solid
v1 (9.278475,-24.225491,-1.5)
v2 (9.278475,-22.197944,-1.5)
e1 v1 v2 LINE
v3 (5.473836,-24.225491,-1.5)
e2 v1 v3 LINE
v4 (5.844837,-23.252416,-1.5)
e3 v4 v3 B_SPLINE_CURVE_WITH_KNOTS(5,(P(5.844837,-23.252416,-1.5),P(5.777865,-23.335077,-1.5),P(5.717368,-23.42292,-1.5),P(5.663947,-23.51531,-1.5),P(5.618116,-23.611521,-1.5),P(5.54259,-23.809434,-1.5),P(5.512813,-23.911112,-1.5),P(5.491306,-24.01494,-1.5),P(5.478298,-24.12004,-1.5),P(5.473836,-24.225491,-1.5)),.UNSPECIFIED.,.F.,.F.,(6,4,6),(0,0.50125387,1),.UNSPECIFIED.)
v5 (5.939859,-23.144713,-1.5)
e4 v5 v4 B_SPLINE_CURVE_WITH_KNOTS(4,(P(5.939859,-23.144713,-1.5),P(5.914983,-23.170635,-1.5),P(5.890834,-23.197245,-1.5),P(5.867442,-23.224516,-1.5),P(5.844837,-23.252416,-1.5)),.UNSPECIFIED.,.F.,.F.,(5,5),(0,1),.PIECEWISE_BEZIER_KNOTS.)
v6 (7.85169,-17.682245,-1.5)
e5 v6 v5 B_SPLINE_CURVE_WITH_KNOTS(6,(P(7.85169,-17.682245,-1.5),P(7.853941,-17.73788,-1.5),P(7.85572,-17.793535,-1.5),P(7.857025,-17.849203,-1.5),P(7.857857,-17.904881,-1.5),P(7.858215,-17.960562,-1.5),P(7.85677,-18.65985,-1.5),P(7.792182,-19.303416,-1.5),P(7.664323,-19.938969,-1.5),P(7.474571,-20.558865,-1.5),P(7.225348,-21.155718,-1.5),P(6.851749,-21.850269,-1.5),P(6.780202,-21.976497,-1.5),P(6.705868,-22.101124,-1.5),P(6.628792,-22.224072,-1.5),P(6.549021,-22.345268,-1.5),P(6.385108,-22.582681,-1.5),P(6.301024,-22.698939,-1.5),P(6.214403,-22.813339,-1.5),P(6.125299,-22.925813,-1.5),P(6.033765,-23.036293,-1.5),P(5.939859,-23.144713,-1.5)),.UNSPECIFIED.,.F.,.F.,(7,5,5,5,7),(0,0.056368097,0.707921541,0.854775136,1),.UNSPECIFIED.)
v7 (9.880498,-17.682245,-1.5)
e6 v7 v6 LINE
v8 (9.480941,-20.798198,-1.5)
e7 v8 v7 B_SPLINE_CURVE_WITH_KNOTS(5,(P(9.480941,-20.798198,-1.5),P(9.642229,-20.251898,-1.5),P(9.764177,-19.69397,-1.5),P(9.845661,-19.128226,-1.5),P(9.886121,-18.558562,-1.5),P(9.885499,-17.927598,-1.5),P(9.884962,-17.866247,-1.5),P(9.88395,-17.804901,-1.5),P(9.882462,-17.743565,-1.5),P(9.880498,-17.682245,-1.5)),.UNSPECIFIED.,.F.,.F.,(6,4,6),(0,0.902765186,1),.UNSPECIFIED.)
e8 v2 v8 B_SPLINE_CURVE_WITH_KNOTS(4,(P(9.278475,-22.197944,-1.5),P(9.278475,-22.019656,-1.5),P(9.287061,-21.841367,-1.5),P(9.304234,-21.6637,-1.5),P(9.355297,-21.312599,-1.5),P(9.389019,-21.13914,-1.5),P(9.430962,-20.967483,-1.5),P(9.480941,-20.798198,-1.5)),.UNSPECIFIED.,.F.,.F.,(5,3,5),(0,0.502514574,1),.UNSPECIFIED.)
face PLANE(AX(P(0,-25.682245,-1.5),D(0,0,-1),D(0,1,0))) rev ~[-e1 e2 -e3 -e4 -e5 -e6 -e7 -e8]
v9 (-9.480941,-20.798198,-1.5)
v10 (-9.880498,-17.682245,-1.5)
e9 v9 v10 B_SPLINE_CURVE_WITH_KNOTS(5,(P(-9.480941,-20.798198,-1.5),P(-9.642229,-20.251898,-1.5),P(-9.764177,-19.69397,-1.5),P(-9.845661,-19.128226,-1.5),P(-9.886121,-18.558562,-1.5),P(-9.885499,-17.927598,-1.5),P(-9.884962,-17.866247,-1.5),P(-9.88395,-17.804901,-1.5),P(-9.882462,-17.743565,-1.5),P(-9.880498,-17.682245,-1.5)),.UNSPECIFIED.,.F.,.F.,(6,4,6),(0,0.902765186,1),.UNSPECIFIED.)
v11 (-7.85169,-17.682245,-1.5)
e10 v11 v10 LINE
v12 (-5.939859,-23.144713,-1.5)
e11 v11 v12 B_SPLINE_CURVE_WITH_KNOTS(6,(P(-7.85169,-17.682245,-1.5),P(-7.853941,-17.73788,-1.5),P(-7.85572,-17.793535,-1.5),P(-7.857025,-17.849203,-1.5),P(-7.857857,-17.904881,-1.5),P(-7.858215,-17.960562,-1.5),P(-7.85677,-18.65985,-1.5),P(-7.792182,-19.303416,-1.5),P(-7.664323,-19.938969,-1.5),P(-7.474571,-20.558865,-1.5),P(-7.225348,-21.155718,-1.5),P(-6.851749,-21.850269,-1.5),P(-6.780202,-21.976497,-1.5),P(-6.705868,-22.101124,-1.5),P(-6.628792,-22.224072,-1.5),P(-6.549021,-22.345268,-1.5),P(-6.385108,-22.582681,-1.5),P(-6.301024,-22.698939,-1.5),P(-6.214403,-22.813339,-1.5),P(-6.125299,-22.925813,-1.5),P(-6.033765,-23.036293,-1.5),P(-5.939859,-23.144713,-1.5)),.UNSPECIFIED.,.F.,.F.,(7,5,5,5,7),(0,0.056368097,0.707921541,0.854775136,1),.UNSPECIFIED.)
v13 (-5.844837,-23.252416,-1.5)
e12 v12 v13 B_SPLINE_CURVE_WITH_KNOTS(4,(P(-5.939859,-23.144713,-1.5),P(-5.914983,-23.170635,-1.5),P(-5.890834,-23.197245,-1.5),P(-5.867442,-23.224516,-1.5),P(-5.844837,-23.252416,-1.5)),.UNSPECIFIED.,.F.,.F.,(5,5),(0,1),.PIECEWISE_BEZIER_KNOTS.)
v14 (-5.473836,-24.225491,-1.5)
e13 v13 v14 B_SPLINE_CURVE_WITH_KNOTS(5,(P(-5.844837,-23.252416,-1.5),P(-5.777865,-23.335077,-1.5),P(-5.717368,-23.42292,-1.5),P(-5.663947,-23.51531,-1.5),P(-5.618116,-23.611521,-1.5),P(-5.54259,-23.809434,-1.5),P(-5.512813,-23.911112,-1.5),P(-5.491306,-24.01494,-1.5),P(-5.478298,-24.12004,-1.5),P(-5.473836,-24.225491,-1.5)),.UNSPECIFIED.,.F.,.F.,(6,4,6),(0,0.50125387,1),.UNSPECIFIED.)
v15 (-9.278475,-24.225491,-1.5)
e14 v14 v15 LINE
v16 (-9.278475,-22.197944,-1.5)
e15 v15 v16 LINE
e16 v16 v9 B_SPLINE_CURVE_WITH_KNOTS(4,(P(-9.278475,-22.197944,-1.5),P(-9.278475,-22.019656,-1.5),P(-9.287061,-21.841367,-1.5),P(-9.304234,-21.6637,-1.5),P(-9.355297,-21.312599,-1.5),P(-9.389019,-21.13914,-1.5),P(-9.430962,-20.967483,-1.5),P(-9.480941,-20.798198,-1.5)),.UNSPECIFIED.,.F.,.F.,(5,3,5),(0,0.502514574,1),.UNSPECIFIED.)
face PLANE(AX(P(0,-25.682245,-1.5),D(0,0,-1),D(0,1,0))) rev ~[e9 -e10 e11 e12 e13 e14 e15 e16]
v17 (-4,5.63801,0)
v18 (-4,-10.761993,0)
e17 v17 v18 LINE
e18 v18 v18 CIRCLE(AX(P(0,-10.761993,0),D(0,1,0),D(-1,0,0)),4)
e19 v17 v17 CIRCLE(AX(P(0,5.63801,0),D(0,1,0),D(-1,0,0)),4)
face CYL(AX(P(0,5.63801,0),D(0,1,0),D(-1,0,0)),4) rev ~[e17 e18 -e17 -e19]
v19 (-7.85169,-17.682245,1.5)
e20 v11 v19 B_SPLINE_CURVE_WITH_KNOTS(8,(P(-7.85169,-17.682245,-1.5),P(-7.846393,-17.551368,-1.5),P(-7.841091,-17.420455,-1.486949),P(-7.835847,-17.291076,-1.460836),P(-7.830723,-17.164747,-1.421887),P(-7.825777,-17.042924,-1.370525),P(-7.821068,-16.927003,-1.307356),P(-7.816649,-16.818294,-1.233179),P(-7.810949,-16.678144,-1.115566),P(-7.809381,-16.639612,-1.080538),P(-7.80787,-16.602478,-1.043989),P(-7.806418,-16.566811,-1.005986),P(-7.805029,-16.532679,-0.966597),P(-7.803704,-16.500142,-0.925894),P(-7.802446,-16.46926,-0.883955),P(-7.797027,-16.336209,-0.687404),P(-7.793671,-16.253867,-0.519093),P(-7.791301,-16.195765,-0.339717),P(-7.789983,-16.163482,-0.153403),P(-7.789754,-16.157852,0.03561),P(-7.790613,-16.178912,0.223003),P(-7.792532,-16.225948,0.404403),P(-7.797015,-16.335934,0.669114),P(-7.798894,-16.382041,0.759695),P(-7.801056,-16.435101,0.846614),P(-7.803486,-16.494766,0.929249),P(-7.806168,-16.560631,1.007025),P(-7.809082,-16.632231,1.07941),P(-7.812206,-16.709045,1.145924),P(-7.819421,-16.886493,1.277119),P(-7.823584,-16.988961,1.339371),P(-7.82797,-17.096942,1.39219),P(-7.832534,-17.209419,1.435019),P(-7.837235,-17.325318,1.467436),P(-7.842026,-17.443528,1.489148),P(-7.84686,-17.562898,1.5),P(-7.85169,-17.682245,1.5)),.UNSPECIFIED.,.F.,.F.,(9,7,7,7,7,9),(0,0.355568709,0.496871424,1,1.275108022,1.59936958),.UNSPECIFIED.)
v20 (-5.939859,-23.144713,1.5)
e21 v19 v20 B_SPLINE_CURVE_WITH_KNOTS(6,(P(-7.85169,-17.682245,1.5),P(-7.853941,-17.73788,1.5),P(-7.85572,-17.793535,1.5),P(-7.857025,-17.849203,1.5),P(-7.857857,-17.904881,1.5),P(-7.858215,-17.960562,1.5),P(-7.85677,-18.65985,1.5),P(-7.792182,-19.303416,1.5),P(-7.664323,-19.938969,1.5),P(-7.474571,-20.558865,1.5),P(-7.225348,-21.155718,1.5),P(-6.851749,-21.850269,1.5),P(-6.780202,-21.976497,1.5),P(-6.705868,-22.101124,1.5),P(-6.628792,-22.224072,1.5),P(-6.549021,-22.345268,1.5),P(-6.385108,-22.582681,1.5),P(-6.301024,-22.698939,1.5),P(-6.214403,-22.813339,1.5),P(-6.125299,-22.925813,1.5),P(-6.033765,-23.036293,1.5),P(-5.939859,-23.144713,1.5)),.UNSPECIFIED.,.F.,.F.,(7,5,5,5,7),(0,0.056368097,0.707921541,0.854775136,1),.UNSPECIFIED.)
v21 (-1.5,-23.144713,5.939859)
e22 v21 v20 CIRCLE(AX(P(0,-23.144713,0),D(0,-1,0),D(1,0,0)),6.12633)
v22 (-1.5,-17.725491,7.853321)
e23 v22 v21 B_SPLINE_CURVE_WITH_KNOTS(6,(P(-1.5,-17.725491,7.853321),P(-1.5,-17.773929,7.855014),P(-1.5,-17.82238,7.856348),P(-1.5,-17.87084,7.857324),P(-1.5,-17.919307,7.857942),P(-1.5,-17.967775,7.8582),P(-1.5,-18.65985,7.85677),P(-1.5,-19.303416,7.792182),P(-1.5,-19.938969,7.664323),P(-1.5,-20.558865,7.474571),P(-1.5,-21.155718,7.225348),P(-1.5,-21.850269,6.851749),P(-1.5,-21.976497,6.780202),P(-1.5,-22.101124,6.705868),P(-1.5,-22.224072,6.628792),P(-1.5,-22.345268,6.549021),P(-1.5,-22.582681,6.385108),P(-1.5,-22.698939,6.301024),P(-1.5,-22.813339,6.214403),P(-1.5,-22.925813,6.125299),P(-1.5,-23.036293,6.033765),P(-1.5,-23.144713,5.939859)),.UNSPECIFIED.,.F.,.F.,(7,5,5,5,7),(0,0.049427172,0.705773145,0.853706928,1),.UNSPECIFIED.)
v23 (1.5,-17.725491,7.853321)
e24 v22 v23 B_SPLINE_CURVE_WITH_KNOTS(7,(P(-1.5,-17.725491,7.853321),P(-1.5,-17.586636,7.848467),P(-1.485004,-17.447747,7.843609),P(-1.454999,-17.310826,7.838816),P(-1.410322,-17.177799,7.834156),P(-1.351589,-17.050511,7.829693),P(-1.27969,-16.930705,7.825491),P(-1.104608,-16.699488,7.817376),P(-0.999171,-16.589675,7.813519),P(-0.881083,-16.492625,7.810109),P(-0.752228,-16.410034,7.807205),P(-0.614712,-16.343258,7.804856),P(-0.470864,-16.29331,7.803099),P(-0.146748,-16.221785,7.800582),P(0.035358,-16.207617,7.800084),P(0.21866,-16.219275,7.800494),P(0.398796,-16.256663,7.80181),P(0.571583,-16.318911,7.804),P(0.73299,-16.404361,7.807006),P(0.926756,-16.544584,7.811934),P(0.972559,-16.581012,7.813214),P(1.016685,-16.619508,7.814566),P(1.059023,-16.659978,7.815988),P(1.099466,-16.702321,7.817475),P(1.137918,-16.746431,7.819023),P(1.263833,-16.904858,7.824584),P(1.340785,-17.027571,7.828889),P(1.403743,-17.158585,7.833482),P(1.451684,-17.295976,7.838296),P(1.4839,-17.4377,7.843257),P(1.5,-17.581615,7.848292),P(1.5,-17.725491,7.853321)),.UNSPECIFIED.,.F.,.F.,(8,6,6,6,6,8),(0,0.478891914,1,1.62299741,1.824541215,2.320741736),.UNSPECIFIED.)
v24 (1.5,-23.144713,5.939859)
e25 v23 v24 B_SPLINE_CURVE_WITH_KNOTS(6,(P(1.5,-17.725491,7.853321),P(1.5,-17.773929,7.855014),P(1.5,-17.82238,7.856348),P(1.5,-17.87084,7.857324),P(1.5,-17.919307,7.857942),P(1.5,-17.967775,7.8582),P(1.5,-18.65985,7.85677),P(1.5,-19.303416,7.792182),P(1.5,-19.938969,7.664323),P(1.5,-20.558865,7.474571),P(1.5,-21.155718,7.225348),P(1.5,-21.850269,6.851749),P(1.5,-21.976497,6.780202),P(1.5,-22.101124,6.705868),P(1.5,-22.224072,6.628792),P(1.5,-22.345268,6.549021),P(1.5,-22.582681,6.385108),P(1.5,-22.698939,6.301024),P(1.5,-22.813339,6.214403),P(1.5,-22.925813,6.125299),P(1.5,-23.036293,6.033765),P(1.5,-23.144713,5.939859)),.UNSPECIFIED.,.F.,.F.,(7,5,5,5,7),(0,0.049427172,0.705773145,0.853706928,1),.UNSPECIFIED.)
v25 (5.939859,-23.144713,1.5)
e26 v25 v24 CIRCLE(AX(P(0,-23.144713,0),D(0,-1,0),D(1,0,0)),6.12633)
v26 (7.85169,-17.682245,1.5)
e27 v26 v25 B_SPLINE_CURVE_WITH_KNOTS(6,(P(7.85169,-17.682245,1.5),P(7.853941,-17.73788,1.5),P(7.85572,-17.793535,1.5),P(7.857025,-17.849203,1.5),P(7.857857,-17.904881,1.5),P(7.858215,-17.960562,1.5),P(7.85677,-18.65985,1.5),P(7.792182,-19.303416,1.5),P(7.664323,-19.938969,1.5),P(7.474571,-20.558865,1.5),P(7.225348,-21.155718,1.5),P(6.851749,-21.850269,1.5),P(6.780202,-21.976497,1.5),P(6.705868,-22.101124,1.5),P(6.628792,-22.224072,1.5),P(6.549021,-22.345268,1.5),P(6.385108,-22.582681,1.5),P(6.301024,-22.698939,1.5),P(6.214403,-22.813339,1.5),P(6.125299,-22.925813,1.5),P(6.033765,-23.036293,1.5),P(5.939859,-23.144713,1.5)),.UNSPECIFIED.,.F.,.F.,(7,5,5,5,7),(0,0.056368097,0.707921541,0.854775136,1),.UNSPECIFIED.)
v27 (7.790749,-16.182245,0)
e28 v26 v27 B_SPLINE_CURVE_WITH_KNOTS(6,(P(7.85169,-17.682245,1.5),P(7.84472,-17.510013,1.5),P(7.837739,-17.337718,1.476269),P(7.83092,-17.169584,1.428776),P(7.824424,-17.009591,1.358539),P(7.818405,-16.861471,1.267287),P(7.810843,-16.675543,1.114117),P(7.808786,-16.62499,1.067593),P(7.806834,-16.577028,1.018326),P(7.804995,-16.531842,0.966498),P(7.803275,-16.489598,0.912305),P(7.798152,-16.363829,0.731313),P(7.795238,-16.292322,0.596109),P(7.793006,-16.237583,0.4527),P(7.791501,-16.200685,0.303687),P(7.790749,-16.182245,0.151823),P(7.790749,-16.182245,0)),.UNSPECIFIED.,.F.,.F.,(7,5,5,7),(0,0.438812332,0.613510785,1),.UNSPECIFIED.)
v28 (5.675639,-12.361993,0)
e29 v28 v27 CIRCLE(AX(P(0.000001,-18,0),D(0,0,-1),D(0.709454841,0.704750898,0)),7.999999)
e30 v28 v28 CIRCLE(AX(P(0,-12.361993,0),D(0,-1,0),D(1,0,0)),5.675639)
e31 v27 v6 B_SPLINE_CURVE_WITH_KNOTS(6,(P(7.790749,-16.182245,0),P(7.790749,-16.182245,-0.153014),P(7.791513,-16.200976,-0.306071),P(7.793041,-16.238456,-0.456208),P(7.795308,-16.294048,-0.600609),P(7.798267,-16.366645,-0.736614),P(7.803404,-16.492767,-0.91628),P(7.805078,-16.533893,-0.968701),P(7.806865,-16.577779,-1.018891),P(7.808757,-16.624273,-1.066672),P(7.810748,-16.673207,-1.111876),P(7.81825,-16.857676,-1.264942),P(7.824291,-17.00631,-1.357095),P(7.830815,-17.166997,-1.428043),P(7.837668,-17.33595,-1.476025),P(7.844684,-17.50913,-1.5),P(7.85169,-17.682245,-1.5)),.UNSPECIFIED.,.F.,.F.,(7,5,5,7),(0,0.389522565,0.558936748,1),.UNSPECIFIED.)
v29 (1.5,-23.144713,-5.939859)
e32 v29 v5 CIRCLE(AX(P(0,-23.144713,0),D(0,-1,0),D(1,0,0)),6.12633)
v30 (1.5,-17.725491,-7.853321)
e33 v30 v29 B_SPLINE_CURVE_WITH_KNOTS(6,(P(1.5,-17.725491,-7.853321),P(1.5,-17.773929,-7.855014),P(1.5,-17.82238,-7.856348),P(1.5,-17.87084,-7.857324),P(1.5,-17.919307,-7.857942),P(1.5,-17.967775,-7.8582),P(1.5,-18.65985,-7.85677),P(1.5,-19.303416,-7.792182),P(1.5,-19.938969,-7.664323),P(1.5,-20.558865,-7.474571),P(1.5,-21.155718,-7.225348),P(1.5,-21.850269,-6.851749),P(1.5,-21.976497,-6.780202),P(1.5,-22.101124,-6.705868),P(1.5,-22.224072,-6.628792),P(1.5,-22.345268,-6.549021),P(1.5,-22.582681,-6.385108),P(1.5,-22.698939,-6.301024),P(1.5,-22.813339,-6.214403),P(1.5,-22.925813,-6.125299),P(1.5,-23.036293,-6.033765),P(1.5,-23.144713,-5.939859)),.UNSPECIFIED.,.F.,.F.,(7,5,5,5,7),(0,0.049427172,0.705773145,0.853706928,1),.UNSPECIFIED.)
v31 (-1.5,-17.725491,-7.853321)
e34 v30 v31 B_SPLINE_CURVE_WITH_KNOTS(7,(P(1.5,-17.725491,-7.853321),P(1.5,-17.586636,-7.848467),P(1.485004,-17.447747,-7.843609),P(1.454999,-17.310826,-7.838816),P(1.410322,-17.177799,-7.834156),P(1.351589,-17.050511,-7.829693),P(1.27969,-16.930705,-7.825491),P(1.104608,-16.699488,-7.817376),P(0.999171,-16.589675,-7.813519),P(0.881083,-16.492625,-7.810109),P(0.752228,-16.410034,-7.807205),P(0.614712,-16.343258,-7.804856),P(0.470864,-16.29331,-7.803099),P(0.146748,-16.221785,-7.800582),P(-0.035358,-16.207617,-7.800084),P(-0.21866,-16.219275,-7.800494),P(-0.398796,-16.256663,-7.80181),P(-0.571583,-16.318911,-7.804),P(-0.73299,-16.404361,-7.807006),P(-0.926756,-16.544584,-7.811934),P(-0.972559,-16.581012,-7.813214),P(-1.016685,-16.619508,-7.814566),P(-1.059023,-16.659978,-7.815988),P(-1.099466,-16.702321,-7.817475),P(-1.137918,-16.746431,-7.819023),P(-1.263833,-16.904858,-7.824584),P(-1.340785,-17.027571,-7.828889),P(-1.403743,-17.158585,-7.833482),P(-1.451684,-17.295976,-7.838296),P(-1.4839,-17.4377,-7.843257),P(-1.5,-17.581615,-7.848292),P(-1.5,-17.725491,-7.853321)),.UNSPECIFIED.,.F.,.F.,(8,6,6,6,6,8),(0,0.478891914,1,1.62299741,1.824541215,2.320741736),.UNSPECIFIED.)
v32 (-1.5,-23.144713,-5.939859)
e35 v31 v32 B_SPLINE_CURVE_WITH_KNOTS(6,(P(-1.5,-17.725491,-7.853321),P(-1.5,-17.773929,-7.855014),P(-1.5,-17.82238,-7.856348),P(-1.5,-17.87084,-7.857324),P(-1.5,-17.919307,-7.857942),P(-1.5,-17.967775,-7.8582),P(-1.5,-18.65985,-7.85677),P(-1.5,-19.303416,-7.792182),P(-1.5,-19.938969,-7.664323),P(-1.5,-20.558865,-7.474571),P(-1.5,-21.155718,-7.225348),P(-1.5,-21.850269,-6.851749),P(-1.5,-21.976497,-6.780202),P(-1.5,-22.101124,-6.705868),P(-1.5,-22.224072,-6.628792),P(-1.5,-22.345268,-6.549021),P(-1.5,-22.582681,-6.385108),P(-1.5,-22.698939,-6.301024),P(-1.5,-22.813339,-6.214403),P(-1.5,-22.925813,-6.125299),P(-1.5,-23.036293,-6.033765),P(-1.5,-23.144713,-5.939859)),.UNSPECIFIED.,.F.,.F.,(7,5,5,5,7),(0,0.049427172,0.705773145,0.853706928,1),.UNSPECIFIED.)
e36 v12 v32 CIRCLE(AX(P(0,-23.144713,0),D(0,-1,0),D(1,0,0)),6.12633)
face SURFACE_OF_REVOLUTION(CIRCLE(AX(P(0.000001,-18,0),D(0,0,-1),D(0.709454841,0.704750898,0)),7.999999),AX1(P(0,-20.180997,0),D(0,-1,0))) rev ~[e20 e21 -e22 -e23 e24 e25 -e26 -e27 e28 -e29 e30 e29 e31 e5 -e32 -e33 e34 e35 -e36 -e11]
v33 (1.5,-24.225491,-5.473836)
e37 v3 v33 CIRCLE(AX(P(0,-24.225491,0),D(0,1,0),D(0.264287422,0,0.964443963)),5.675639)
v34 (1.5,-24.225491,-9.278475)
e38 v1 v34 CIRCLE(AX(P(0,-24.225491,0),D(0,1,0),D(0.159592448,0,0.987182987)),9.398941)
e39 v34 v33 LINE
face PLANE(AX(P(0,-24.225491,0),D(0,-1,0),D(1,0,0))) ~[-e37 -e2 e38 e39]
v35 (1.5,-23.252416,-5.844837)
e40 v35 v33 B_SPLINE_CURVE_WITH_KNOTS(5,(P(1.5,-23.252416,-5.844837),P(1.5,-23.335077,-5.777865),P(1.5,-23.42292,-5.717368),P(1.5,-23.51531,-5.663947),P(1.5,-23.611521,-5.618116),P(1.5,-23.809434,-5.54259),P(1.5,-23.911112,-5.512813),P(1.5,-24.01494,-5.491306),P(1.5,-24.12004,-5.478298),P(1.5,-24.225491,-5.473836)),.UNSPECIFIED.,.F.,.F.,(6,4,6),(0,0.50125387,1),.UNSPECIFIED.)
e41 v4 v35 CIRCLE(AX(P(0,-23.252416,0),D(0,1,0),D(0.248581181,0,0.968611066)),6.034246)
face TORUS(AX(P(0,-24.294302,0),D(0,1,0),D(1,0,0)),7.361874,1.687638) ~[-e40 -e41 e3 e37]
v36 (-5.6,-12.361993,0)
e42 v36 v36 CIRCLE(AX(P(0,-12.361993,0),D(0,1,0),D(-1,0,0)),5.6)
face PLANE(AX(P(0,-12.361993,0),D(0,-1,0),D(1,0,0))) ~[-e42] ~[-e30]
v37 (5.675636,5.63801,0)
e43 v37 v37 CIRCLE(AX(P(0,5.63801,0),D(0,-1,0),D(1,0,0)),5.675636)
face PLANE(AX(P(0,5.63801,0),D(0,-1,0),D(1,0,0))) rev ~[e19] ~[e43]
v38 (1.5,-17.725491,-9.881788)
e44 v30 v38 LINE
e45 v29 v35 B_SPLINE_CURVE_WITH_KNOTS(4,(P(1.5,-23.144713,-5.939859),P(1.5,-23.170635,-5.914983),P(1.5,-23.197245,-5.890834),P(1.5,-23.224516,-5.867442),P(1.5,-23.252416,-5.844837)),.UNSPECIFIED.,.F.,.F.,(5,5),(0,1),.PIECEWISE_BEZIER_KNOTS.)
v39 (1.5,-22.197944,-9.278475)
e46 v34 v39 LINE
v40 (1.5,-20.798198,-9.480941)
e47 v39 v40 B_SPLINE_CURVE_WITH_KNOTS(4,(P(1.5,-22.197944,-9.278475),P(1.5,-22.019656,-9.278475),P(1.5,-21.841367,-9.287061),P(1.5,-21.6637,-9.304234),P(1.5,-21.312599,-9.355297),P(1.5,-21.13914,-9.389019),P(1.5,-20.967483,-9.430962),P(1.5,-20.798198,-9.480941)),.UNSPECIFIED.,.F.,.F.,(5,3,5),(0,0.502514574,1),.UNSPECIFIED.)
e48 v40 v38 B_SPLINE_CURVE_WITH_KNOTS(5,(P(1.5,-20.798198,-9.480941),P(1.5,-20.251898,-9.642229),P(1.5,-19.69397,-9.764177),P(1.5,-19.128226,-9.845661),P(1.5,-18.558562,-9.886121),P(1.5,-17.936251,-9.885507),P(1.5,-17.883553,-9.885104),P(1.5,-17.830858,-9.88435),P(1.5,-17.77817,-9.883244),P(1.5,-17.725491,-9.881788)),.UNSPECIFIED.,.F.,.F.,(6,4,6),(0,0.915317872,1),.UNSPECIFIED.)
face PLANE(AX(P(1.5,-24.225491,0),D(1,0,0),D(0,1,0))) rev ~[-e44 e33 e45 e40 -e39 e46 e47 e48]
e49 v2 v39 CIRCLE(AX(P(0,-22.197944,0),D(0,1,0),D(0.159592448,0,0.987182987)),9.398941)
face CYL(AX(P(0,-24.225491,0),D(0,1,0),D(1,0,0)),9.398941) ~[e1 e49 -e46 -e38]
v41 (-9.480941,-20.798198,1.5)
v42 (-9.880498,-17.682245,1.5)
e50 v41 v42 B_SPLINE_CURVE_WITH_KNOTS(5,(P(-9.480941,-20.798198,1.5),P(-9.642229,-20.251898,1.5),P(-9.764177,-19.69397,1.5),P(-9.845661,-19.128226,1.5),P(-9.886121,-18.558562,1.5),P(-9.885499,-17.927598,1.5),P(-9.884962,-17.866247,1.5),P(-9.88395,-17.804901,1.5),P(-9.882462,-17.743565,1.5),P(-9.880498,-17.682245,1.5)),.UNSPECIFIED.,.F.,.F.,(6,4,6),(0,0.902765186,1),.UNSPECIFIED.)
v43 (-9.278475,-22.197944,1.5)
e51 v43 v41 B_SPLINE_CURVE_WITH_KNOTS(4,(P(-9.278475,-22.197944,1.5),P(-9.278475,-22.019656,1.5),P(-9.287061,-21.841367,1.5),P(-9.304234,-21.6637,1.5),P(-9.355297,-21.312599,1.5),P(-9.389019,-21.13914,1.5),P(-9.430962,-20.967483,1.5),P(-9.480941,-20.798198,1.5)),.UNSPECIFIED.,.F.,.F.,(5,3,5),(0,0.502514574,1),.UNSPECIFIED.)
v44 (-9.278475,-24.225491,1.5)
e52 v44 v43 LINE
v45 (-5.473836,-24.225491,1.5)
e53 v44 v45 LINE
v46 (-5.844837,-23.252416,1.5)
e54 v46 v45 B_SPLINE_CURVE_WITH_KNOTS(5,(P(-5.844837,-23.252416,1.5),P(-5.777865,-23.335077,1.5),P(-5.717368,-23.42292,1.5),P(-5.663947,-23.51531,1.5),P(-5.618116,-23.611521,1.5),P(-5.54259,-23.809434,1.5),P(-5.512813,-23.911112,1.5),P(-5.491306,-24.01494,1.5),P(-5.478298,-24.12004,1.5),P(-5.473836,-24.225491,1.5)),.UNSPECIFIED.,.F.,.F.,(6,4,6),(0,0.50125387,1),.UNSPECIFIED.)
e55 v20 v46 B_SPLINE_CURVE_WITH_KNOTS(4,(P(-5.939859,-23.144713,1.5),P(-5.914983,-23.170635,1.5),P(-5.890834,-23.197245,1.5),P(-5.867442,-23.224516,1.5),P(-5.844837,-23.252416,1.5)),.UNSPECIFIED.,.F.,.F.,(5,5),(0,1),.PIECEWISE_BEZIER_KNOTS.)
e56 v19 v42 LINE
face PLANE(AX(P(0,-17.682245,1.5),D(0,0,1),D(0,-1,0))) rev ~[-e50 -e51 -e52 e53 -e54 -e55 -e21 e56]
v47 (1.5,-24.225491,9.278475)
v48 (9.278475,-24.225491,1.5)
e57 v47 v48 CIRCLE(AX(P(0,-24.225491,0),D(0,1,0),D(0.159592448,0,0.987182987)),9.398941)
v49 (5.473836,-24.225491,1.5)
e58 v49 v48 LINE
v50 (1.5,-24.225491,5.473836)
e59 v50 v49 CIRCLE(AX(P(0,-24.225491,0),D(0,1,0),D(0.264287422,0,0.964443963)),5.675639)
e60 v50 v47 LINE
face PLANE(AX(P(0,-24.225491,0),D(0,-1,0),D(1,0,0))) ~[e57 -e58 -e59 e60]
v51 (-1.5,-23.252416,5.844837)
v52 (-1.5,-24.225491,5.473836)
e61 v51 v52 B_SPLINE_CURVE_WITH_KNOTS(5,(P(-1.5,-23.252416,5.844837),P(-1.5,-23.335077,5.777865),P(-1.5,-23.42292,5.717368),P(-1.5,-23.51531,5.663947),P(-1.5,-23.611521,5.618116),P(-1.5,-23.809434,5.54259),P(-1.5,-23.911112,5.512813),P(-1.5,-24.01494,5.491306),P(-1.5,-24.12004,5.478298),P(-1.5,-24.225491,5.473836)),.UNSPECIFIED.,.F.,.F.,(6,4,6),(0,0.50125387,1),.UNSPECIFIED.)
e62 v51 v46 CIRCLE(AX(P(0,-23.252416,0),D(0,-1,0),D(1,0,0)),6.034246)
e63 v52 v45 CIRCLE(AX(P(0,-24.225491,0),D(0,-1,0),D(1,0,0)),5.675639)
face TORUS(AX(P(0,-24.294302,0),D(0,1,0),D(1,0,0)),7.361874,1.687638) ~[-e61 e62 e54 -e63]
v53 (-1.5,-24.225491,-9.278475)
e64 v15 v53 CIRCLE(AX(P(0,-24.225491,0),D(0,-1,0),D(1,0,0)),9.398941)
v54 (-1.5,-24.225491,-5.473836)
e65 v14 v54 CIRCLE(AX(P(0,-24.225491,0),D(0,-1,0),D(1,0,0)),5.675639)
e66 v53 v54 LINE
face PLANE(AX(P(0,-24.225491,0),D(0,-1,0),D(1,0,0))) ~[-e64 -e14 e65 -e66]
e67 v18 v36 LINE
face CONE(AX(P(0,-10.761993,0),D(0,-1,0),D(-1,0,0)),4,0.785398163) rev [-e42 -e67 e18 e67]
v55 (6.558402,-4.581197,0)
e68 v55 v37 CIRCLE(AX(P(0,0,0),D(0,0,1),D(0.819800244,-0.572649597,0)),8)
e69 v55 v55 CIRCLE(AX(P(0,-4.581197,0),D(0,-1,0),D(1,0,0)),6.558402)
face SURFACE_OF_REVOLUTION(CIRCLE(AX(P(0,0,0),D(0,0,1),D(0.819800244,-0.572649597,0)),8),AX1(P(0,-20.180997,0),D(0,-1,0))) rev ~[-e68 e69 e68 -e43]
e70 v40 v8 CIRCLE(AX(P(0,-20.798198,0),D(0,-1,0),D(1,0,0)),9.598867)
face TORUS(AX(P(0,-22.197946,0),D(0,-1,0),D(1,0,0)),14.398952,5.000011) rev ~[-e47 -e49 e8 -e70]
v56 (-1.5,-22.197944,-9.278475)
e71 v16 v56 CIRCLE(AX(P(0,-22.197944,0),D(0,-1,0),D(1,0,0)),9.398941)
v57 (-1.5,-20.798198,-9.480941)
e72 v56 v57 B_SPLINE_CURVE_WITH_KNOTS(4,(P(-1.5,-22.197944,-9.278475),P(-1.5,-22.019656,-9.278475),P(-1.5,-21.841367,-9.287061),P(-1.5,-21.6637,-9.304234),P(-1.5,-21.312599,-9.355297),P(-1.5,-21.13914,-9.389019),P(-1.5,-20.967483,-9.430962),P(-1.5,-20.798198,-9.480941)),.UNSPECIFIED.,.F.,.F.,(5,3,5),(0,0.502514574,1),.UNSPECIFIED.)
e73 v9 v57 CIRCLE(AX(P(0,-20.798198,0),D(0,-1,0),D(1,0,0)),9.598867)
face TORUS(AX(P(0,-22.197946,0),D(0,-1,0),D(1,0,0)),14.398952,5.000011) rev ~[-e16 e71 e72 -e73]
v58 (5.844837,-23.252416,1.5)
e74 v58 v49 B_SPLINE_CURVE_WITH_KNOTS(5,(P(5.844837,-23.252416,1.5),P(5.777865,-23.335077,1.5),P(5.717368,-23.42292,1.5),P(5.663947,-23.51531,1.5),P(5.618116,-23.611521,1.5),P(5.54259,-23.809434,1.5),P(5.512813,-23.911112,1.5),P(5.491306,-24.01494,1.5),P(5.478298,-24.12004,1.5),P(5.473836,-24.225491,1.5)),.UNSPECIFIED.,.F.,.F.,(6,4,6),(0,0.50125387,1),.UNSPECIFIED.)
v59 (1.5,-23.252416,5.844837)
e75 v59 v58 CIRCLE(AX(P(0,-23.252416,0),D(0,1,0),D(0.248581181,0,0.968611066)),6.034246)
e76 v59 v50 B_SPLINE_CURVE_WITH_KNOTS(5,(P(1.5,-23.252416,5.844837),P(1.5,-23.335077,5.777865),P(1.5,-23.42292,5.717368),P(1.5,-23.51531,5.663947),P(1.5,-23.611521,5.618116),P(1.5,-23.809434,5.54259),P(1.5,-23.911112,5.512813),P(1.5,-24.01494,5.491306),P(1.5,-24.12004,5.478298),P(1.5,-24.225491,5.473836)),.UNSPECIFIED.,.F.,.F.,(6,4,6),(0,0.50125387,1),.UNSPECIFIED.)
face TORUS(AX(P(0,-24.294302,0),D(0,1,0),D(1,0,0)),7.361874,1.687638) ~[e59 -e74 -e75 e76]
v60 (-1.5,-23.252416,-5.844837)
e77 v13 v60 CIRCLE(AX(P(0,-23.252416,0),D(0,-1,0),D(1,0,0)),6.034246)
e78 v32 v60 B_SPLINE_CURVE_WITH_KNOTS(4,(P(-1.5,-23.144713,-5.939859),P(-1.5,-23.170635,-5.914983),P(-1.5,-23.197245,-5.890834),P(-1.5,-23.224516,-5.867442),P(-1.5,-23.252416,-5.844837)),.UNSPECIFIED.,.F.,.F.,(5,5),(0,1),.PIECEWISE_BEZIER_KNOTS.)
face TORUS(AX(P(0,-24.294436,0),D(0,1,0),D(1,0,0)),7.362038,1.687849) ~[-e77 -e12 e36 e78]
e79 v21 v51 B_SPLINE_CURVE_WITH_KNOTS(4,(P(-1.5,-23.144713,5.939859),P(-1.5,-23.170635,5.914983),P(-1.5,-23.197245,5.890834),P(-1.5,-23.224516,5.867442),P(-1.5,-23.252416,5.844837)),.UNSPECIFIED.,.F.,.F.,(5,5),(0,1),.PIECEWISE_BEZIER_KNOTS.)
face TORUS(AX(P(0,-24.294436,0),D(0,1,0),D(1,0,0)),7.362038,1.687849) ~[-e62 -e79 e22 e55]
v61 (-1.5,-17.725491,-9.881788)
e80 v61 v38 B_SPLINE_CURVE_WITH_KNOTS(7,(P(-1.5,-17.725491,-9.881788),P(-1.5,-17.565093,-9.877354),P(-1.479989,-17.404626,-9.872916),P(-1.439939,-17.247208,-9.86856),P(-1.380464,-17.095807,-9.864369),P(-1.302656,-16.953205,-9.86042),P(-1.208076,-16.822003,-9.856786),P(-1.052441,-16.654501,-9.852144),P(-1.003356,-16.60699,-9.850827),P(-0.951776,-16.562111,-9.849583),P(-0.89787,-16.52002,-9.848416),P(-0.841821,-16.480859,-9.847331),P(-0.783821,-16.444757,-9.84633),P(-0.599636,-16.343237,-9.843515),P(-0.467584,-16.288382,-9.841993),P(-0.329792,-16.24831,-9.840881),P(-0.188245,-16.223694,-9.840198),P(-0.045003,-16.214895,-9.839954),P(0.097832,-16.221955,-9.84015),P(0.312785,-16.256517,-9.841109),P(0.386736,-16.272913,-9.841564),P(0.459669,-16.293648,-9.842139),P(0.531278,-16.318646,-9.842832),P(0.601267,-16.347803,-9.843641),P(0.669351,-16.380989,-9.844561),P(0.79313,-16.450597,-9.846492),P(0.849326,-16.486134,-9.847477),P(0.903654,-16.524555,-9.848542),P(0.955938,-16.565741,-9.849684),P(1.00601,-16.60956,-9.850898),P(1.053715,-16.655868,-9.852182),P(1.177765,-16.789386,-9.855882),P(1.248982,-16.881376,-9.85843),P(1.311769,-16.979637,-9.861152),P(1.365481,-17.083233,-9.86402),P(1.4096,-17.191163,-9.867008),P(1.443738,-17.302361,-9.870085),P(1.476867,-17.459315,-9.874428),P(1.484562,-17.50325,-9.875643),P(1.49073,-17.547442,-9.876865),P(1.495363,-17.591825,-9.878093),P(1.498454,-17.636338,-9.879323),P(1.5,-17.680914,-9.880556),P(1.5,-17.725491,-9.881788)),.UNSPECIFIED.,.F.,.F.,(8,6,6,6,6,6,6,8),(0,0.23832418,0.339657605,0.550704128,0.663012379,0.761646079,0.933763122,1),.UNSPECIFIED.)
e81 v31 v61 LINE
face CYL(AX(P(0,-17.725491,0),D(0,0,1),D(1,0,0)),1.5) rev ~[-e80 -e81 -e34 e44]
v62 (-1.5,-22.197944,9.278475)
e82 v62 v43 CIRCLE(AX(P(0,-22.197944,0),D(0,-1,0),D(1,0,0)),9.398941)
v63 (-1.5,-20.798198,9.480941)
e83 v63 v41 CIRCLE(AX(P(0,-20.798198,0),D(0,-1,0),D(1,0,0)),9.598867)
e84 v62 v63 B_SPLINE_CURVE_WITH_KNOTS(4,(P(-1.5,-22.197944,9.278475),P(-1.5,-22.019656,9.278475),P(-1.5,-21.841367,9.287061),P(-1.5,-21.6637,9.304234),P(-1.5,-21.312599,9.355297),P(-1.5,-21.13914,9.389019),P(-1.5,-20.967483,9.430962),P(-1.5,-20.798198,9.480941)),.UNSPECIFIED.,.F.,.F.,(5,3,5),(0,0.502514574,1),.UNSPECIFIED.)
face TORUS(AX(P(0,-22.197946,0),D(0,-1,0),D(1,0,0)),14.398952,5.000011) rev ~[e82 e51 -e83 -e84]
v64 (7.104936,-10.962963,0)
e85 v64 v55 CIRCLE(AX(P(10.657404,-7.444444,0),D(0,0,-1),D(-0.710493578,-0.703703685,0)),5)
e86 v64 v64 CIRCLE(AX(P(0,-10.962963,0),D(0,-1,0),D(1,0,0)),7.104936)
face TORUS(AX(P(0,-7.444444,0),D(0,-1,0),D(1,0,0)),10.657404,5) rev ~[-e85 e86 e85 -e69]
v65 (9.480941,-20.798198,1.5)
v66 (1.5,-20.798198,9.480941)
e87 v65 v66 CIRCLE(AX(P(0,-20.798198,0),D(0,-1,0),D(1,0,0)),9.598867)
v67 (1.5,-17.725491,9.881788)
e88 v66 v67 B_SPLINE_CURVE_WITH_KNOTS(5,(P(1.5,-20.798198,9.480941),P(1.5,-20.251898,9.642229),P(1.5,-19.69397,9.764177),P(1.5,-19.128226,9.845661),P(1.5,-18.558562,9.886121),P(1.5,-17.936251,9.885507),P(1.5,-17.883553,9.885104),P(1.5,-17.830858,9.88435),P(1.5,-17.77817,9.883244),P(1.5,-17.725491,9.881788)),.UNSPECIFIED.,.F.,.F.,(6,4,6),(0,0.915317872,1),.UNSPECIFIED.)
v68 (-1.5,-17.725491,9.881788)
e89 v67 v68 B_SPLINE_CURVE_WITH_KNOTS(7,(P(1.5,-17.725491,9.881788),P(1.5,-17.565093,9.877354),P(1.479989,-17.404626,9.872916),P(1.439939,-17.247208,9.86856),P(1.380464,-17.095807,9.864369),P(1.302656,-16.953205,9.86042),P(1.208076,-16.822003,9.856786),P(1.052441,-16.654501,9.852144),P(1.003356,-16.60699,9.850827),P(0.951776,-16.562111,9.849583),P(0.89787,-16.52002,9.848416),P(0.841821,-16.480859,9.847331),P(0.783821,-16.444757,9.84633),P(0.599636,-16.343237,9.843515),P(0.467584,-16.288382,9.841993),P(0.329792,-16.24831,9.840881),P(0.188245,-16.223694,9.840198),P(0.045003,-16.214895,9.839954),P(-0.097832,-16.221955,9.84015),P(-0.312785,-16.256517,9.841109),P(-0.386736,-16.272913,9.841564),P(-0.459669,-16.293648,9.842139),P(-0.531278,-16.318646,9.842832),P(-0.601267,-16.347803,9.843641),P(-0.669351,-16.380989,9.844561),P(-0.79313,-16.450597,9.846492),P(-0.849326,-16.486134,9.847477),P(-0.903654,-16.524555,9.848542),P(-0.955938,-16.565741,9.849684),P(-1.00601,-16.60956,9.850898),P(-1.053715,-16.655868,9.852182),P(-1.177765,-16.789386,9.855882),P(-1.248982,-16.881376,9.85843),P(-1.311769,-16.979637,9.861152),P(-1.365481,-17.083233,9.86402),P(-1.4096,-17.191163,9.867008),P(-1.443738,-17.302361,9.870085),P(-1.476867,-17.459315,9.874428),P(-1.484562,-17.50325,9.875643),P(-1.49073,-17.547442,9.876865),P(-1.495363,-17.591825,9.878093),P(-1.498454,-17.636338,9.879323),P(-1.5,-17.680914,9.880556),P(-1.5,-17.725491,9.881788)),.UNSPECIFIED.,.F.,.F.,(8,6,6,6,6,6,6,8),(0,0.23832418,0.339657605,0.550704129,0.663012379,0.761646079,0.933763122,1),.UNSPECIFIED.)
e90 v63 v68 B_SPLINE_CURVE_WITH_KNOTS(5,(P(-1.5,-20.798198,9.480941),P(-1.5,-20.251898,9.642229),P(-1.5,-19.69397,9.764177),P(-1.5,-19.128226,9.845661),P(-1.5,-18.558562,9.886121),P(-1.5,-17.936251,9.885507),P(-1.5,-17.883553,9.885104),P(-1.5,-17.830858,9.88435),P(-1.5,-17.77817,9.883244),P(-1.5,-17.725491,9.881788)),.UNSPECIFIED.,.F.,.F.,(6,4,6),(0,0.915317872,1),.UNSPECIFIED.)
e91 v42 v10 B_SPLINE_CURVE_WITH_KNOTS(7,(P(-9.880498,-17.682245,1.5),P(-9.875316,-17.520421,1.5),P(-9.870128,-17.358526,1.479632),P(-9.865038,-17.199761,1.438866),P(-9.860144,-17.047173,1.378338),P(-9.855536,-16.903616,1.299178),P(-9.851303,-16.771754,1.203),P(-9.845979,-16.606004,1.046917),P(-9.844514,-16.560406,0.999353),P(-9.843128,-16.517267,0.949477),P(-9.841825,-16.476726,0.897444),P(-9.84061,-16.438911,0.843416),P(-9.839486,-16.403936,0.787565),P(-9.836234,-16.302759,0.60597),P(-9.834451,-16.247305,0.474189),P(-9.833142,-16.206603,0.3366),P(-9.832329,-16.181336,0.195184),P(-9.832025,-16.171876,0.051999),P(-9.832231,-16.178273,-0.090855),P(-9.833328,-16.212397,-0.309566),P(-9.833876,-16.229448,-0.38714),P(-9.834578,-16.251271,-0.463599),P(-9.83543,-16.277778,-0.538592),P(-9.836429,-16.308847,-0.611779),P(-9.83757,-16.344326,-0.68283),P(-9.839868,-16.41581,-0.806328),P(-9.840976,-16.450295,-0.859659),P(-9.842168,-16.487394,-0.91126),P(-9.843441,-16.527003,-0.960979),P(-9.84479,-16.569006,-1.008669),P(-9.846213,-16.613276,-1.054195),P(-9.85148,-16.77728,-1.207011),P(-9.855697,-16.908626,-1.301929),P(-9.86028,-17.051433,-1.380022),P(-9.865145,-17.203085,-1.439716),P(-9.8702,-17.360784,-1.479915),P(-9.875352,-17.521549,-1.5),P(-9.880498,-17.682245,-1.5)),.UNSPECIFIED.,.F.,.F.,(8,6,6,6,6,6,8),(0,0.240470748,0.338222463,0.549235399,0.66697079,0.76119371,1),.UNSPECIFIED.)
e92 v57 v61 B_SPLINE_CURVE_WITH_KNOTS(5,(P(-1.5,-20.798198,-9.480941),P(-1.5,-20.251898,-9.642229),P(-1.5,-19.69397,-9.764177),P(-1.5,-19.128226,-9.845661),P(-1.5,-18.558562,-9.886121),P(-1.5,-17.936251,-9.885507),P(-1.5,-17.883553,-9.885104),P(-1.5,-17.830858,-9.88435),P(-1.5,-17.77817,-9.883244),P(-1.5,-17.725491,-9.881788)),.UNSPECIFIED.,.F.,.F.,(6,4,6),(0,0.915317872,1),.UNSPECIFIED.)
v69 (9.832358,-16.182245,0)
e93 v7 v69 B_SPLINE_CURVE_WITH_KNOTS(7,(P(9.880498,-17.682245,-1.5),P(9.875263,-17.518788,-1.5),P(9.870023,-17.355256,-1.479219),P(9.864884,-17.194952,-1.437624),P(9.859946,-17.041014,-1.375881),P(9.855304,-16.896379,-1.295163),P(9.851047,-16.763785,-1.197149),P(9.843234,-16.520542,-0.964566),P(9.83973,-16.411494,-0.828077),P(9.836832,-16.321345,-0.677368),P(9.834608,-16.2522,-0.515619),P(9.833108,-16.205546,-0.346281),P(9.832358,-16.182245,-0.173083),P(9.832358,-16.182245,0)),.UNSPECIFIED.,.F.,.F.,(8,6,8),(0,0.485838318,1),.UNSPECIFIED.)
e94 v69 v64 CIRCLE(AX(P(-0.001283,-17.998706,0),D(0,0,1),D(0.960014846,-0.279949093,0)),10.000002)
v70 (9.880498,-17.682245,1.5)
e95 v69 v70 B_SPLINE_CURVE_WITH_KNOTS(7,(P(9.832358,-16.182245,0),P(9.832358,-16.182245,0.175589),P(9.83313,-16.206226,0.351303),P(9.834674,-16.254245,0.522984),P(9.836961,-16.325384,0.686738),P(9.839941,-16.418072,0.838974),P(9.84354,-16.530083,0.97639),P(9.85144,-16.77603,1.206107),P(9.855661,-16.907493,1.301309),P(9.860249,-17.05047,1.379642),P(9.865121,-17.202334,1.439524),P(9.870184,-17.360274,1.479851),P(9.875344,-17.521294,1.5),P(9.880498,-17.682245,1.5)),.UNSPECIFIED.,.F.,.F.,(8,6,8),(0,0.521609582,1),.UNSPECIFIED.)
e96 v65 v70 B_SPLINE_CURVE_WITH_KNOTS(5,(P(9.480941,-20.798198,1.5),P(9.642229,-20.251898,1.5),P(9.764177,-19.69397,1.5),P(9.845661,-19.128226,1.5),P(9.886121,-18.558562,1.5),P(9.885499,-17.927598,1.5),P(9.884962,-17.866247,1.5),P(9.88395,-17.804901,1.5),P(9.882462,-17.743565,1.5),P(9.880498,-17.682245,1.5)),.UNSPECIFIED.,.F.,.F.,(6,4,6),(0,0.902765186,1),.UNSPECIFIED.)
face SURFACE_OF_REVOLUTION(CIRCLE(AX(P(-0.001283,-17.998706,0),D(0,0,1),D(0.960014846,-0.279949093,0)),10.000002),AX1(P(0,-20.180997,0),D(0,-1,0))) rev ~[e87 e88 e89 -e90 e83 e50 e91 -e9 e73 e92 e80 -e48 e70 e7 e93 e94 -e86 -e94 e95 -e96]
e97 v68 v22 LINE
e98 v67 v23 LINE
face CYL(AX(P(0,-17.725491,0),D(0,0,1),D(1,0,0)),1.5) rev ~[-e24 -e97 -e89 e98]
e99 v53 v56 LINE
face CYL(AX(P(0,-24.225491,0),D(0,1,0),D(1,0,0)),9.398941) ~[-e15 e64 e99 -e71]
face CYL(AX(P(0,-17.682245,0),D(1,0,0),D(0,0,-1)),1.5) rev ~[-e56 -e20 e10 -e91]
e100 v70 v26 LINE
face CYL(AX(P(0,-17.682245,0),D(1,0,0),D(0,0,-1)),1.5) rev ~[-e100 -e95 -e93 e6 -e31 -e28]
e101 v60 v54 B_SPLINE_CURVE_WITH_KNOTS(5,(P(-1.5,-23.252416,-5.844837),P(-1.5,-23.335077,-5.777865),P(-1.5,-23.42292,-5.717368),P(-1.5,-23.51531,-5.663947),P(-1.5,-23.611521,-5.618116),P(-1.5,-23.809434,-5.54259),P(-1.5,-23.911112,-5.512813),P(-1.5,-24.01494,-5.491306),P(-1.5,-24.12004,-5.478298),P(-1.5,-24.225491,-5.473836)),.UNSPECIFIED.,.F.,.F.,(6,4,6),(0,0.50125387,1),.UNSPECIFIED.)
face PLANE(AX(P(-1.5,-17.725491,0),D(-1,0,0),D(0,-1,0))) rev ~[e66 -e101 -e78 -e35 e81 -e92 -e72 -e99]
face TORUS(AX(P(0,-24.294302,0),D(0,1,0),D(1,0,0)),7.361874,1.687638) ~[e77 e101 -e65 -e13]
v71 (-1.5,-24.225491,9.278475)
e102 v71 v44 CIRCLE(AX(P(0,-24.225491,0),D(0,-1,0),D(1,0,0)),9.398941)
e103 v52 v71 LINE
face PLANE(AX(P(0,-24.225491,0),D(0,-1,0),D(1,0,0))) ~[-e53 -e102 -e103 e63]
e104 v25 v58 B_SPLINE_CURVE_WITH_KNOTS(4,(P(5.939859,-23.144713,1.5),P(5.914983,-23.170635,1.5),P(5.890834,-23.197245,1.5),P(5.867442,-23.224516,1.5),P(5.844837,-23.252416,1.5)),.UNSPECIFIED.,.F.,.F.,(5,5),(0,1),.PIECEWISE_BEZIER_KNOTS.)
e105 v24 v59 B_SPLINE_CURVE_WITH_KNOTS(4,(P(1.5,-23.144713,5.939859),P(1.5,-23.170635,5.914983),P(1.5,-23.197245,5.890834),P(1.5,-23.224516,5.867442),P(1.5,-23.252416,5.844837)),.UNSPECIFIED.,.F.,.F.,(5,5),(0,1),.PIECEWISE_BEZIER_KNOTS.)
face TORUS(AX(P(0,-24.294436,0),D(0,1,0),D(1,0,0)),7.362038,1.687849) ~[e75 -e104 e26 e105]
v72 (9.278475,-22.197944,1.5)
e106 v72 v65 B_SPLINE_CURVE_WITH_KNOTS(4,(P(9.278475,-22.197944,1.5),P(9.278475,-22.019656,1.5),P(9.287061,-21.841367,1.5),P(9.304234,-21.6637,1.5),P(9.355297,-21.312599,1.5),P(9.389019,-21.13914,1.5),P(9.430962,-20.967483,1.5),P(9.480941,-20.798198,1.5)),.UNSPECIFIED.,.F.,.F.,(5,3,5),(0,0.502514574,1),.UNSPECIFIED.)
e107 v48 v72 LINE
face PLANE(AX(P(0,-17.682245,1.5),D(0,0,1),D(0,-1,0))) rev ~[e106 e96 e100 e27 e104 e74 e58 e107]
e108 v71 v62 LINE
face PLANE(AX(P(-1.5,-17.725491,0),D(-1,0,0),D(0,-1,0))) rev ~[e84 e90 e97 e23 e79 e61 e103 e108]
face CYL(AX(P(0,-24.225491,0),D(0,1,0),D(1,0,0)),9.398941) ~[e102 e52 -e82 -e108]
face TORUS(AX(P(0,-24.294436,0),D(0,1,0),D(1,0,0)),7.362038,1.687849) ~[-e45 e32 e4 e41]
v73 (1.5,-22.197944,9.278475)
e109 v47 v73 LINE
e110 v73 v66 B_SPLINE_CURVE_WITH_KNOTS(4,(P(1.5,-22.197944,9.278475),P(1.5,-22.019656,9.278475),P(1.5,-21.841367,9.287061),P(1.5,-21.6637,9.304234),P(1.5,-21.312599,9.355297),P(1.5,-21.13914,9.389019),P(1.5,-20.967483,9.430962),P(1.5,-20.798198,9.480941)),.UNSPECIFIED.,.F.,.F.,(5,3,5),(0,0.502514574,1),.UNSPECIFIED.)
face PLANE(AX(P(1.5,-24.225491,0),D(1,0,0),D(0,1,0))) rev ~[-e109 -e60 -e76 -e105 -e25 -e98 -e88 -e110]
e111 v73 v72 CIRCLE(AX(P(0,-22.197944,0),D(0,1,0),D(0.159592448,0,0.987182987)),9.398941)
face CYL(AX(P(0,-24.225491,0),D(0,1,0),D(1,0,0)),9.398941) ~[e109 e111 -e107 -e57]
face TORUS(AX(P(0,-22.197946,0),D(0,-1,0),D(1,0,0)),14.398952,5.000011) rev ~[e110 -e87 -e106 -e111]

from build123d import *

# Parameters (mm, degrees)
F3_DEPTH = 12.5
F5_DEPTH = 12.5
F6_R     = 4
F7_DEPTH = 29.864501
F8_SIZE  = 1.6


with BuildPart() as f1:
    # F0 (on Top) → F1 (revolve)
    with BuildSketch(Plane.XY):
        with BuildLine():
            ThreePointArc((7.104936, -10.962963), (5.675639, -7.871082), (6.558402, -4.581197))
            ThreePointArc((6.558402, -4.581197), (7.970318, 0.6885), (5.675636, 5.63801))
            Line((5.675636, 5.63801), (0, 5.63801))
            Line((0, 5.63801), (0, -10))
            Line((0, -10), (0, -12.361993))
            Line((0, -12.361993), (5.675639, -12.361993))
            ThreePointArc((5.675639, -12.361993), (7.993021, -17.665911), (6.12633, -23.144713))
            ThreePointArc((6.12633, -23.144713), (6.080527, -23.198768), (6.034246, -23.252416))
            ThreePointArc((6.034246, -23.252416), (5.778346, -23.710725), (5.675639, -24.225491))
            Line((5.675639, -24.225491), (7.825808, -24.225491))
            Line((7.825808, -24.225491), (9.398941, -24.225491))
            Line((9.398941, -24.225491), (9.398941, -22.197944))
            ThreePointArc((9.398941, -22.197944), (9.449175, -21.490968), (9.598867, -20.798198))
            ThreePointArc((9.598867, -20.798198), (9.691944, -15.540784), (7.104936, -10.962963))
        make_face()
        with BuildLine():
            ThreePointArc((6.034246, -23.252416), (6.080527, -23.198768), (6.12633, -23.144713))
            ThreePointArc((6.12633, -23.144713), (6.079157, -23.197598), (6.034246, -23.252416))
        make_face()
    revolve(axis=Axis((0, -20.180997, 0), (0, -1, 0)))

    # F2 (on Top) → F3 (cut, symmetric)
    with BuildSketch(Plane.XY):
        with BuildLine():
            Line((-1.5, -17.725491), (-1.5, -24.225491))
            Line((-1.5, -24.225491), (1.5, -24.225491))
            Line((1.5, -24.225491), (1.5, -17.725491))
            ThreePointArc((1.5, -17.725491), (0, -16.225491), (-1.5, -17.725491))
        make_face()
    extrude(amount=F3_DEPTH, both=True, mode=Mode.SUBTRACT)

    # F4 (on Right) → F5 (cut, symmetric)
    with BuildSketch(Plane.YZ):
        with BuildLine():
            Line((-17.682245, 1.5), (-25.682245, 1.5))
            Line((-25.682245, 1.5), (-25.682245, -1.5))
            Line((-25.682245, -1.5), (-17.682245, -1.5))
            ThreePointArc((-17.682245, -1.5), (-16.182245, 0), (-17.682245, 1.5))
        make_face()
    extrude(amount=F5_DEPTH, both=True, mode=Mode.SUBTRACT)

    # F6 (on face) → F7 (cut, through all)
    with BuildSketch(Plane(origin=(0, 5.63801, 0), x_dir=(-1, 0, 0), z_dir=(0, 1, 0))):
        Circle(F6_R)
    extrude(amount=-F7_DEPTH, mode=Mode.SUBTRACT)

    # F8
    f8_edges = [f1.edges().sort_by_distance(p)[0] for p in [
        (4, -12.361993, 0),
    ]]
    chamfer(f8_edges, length=F8_SIZE)


solid = f1.part
